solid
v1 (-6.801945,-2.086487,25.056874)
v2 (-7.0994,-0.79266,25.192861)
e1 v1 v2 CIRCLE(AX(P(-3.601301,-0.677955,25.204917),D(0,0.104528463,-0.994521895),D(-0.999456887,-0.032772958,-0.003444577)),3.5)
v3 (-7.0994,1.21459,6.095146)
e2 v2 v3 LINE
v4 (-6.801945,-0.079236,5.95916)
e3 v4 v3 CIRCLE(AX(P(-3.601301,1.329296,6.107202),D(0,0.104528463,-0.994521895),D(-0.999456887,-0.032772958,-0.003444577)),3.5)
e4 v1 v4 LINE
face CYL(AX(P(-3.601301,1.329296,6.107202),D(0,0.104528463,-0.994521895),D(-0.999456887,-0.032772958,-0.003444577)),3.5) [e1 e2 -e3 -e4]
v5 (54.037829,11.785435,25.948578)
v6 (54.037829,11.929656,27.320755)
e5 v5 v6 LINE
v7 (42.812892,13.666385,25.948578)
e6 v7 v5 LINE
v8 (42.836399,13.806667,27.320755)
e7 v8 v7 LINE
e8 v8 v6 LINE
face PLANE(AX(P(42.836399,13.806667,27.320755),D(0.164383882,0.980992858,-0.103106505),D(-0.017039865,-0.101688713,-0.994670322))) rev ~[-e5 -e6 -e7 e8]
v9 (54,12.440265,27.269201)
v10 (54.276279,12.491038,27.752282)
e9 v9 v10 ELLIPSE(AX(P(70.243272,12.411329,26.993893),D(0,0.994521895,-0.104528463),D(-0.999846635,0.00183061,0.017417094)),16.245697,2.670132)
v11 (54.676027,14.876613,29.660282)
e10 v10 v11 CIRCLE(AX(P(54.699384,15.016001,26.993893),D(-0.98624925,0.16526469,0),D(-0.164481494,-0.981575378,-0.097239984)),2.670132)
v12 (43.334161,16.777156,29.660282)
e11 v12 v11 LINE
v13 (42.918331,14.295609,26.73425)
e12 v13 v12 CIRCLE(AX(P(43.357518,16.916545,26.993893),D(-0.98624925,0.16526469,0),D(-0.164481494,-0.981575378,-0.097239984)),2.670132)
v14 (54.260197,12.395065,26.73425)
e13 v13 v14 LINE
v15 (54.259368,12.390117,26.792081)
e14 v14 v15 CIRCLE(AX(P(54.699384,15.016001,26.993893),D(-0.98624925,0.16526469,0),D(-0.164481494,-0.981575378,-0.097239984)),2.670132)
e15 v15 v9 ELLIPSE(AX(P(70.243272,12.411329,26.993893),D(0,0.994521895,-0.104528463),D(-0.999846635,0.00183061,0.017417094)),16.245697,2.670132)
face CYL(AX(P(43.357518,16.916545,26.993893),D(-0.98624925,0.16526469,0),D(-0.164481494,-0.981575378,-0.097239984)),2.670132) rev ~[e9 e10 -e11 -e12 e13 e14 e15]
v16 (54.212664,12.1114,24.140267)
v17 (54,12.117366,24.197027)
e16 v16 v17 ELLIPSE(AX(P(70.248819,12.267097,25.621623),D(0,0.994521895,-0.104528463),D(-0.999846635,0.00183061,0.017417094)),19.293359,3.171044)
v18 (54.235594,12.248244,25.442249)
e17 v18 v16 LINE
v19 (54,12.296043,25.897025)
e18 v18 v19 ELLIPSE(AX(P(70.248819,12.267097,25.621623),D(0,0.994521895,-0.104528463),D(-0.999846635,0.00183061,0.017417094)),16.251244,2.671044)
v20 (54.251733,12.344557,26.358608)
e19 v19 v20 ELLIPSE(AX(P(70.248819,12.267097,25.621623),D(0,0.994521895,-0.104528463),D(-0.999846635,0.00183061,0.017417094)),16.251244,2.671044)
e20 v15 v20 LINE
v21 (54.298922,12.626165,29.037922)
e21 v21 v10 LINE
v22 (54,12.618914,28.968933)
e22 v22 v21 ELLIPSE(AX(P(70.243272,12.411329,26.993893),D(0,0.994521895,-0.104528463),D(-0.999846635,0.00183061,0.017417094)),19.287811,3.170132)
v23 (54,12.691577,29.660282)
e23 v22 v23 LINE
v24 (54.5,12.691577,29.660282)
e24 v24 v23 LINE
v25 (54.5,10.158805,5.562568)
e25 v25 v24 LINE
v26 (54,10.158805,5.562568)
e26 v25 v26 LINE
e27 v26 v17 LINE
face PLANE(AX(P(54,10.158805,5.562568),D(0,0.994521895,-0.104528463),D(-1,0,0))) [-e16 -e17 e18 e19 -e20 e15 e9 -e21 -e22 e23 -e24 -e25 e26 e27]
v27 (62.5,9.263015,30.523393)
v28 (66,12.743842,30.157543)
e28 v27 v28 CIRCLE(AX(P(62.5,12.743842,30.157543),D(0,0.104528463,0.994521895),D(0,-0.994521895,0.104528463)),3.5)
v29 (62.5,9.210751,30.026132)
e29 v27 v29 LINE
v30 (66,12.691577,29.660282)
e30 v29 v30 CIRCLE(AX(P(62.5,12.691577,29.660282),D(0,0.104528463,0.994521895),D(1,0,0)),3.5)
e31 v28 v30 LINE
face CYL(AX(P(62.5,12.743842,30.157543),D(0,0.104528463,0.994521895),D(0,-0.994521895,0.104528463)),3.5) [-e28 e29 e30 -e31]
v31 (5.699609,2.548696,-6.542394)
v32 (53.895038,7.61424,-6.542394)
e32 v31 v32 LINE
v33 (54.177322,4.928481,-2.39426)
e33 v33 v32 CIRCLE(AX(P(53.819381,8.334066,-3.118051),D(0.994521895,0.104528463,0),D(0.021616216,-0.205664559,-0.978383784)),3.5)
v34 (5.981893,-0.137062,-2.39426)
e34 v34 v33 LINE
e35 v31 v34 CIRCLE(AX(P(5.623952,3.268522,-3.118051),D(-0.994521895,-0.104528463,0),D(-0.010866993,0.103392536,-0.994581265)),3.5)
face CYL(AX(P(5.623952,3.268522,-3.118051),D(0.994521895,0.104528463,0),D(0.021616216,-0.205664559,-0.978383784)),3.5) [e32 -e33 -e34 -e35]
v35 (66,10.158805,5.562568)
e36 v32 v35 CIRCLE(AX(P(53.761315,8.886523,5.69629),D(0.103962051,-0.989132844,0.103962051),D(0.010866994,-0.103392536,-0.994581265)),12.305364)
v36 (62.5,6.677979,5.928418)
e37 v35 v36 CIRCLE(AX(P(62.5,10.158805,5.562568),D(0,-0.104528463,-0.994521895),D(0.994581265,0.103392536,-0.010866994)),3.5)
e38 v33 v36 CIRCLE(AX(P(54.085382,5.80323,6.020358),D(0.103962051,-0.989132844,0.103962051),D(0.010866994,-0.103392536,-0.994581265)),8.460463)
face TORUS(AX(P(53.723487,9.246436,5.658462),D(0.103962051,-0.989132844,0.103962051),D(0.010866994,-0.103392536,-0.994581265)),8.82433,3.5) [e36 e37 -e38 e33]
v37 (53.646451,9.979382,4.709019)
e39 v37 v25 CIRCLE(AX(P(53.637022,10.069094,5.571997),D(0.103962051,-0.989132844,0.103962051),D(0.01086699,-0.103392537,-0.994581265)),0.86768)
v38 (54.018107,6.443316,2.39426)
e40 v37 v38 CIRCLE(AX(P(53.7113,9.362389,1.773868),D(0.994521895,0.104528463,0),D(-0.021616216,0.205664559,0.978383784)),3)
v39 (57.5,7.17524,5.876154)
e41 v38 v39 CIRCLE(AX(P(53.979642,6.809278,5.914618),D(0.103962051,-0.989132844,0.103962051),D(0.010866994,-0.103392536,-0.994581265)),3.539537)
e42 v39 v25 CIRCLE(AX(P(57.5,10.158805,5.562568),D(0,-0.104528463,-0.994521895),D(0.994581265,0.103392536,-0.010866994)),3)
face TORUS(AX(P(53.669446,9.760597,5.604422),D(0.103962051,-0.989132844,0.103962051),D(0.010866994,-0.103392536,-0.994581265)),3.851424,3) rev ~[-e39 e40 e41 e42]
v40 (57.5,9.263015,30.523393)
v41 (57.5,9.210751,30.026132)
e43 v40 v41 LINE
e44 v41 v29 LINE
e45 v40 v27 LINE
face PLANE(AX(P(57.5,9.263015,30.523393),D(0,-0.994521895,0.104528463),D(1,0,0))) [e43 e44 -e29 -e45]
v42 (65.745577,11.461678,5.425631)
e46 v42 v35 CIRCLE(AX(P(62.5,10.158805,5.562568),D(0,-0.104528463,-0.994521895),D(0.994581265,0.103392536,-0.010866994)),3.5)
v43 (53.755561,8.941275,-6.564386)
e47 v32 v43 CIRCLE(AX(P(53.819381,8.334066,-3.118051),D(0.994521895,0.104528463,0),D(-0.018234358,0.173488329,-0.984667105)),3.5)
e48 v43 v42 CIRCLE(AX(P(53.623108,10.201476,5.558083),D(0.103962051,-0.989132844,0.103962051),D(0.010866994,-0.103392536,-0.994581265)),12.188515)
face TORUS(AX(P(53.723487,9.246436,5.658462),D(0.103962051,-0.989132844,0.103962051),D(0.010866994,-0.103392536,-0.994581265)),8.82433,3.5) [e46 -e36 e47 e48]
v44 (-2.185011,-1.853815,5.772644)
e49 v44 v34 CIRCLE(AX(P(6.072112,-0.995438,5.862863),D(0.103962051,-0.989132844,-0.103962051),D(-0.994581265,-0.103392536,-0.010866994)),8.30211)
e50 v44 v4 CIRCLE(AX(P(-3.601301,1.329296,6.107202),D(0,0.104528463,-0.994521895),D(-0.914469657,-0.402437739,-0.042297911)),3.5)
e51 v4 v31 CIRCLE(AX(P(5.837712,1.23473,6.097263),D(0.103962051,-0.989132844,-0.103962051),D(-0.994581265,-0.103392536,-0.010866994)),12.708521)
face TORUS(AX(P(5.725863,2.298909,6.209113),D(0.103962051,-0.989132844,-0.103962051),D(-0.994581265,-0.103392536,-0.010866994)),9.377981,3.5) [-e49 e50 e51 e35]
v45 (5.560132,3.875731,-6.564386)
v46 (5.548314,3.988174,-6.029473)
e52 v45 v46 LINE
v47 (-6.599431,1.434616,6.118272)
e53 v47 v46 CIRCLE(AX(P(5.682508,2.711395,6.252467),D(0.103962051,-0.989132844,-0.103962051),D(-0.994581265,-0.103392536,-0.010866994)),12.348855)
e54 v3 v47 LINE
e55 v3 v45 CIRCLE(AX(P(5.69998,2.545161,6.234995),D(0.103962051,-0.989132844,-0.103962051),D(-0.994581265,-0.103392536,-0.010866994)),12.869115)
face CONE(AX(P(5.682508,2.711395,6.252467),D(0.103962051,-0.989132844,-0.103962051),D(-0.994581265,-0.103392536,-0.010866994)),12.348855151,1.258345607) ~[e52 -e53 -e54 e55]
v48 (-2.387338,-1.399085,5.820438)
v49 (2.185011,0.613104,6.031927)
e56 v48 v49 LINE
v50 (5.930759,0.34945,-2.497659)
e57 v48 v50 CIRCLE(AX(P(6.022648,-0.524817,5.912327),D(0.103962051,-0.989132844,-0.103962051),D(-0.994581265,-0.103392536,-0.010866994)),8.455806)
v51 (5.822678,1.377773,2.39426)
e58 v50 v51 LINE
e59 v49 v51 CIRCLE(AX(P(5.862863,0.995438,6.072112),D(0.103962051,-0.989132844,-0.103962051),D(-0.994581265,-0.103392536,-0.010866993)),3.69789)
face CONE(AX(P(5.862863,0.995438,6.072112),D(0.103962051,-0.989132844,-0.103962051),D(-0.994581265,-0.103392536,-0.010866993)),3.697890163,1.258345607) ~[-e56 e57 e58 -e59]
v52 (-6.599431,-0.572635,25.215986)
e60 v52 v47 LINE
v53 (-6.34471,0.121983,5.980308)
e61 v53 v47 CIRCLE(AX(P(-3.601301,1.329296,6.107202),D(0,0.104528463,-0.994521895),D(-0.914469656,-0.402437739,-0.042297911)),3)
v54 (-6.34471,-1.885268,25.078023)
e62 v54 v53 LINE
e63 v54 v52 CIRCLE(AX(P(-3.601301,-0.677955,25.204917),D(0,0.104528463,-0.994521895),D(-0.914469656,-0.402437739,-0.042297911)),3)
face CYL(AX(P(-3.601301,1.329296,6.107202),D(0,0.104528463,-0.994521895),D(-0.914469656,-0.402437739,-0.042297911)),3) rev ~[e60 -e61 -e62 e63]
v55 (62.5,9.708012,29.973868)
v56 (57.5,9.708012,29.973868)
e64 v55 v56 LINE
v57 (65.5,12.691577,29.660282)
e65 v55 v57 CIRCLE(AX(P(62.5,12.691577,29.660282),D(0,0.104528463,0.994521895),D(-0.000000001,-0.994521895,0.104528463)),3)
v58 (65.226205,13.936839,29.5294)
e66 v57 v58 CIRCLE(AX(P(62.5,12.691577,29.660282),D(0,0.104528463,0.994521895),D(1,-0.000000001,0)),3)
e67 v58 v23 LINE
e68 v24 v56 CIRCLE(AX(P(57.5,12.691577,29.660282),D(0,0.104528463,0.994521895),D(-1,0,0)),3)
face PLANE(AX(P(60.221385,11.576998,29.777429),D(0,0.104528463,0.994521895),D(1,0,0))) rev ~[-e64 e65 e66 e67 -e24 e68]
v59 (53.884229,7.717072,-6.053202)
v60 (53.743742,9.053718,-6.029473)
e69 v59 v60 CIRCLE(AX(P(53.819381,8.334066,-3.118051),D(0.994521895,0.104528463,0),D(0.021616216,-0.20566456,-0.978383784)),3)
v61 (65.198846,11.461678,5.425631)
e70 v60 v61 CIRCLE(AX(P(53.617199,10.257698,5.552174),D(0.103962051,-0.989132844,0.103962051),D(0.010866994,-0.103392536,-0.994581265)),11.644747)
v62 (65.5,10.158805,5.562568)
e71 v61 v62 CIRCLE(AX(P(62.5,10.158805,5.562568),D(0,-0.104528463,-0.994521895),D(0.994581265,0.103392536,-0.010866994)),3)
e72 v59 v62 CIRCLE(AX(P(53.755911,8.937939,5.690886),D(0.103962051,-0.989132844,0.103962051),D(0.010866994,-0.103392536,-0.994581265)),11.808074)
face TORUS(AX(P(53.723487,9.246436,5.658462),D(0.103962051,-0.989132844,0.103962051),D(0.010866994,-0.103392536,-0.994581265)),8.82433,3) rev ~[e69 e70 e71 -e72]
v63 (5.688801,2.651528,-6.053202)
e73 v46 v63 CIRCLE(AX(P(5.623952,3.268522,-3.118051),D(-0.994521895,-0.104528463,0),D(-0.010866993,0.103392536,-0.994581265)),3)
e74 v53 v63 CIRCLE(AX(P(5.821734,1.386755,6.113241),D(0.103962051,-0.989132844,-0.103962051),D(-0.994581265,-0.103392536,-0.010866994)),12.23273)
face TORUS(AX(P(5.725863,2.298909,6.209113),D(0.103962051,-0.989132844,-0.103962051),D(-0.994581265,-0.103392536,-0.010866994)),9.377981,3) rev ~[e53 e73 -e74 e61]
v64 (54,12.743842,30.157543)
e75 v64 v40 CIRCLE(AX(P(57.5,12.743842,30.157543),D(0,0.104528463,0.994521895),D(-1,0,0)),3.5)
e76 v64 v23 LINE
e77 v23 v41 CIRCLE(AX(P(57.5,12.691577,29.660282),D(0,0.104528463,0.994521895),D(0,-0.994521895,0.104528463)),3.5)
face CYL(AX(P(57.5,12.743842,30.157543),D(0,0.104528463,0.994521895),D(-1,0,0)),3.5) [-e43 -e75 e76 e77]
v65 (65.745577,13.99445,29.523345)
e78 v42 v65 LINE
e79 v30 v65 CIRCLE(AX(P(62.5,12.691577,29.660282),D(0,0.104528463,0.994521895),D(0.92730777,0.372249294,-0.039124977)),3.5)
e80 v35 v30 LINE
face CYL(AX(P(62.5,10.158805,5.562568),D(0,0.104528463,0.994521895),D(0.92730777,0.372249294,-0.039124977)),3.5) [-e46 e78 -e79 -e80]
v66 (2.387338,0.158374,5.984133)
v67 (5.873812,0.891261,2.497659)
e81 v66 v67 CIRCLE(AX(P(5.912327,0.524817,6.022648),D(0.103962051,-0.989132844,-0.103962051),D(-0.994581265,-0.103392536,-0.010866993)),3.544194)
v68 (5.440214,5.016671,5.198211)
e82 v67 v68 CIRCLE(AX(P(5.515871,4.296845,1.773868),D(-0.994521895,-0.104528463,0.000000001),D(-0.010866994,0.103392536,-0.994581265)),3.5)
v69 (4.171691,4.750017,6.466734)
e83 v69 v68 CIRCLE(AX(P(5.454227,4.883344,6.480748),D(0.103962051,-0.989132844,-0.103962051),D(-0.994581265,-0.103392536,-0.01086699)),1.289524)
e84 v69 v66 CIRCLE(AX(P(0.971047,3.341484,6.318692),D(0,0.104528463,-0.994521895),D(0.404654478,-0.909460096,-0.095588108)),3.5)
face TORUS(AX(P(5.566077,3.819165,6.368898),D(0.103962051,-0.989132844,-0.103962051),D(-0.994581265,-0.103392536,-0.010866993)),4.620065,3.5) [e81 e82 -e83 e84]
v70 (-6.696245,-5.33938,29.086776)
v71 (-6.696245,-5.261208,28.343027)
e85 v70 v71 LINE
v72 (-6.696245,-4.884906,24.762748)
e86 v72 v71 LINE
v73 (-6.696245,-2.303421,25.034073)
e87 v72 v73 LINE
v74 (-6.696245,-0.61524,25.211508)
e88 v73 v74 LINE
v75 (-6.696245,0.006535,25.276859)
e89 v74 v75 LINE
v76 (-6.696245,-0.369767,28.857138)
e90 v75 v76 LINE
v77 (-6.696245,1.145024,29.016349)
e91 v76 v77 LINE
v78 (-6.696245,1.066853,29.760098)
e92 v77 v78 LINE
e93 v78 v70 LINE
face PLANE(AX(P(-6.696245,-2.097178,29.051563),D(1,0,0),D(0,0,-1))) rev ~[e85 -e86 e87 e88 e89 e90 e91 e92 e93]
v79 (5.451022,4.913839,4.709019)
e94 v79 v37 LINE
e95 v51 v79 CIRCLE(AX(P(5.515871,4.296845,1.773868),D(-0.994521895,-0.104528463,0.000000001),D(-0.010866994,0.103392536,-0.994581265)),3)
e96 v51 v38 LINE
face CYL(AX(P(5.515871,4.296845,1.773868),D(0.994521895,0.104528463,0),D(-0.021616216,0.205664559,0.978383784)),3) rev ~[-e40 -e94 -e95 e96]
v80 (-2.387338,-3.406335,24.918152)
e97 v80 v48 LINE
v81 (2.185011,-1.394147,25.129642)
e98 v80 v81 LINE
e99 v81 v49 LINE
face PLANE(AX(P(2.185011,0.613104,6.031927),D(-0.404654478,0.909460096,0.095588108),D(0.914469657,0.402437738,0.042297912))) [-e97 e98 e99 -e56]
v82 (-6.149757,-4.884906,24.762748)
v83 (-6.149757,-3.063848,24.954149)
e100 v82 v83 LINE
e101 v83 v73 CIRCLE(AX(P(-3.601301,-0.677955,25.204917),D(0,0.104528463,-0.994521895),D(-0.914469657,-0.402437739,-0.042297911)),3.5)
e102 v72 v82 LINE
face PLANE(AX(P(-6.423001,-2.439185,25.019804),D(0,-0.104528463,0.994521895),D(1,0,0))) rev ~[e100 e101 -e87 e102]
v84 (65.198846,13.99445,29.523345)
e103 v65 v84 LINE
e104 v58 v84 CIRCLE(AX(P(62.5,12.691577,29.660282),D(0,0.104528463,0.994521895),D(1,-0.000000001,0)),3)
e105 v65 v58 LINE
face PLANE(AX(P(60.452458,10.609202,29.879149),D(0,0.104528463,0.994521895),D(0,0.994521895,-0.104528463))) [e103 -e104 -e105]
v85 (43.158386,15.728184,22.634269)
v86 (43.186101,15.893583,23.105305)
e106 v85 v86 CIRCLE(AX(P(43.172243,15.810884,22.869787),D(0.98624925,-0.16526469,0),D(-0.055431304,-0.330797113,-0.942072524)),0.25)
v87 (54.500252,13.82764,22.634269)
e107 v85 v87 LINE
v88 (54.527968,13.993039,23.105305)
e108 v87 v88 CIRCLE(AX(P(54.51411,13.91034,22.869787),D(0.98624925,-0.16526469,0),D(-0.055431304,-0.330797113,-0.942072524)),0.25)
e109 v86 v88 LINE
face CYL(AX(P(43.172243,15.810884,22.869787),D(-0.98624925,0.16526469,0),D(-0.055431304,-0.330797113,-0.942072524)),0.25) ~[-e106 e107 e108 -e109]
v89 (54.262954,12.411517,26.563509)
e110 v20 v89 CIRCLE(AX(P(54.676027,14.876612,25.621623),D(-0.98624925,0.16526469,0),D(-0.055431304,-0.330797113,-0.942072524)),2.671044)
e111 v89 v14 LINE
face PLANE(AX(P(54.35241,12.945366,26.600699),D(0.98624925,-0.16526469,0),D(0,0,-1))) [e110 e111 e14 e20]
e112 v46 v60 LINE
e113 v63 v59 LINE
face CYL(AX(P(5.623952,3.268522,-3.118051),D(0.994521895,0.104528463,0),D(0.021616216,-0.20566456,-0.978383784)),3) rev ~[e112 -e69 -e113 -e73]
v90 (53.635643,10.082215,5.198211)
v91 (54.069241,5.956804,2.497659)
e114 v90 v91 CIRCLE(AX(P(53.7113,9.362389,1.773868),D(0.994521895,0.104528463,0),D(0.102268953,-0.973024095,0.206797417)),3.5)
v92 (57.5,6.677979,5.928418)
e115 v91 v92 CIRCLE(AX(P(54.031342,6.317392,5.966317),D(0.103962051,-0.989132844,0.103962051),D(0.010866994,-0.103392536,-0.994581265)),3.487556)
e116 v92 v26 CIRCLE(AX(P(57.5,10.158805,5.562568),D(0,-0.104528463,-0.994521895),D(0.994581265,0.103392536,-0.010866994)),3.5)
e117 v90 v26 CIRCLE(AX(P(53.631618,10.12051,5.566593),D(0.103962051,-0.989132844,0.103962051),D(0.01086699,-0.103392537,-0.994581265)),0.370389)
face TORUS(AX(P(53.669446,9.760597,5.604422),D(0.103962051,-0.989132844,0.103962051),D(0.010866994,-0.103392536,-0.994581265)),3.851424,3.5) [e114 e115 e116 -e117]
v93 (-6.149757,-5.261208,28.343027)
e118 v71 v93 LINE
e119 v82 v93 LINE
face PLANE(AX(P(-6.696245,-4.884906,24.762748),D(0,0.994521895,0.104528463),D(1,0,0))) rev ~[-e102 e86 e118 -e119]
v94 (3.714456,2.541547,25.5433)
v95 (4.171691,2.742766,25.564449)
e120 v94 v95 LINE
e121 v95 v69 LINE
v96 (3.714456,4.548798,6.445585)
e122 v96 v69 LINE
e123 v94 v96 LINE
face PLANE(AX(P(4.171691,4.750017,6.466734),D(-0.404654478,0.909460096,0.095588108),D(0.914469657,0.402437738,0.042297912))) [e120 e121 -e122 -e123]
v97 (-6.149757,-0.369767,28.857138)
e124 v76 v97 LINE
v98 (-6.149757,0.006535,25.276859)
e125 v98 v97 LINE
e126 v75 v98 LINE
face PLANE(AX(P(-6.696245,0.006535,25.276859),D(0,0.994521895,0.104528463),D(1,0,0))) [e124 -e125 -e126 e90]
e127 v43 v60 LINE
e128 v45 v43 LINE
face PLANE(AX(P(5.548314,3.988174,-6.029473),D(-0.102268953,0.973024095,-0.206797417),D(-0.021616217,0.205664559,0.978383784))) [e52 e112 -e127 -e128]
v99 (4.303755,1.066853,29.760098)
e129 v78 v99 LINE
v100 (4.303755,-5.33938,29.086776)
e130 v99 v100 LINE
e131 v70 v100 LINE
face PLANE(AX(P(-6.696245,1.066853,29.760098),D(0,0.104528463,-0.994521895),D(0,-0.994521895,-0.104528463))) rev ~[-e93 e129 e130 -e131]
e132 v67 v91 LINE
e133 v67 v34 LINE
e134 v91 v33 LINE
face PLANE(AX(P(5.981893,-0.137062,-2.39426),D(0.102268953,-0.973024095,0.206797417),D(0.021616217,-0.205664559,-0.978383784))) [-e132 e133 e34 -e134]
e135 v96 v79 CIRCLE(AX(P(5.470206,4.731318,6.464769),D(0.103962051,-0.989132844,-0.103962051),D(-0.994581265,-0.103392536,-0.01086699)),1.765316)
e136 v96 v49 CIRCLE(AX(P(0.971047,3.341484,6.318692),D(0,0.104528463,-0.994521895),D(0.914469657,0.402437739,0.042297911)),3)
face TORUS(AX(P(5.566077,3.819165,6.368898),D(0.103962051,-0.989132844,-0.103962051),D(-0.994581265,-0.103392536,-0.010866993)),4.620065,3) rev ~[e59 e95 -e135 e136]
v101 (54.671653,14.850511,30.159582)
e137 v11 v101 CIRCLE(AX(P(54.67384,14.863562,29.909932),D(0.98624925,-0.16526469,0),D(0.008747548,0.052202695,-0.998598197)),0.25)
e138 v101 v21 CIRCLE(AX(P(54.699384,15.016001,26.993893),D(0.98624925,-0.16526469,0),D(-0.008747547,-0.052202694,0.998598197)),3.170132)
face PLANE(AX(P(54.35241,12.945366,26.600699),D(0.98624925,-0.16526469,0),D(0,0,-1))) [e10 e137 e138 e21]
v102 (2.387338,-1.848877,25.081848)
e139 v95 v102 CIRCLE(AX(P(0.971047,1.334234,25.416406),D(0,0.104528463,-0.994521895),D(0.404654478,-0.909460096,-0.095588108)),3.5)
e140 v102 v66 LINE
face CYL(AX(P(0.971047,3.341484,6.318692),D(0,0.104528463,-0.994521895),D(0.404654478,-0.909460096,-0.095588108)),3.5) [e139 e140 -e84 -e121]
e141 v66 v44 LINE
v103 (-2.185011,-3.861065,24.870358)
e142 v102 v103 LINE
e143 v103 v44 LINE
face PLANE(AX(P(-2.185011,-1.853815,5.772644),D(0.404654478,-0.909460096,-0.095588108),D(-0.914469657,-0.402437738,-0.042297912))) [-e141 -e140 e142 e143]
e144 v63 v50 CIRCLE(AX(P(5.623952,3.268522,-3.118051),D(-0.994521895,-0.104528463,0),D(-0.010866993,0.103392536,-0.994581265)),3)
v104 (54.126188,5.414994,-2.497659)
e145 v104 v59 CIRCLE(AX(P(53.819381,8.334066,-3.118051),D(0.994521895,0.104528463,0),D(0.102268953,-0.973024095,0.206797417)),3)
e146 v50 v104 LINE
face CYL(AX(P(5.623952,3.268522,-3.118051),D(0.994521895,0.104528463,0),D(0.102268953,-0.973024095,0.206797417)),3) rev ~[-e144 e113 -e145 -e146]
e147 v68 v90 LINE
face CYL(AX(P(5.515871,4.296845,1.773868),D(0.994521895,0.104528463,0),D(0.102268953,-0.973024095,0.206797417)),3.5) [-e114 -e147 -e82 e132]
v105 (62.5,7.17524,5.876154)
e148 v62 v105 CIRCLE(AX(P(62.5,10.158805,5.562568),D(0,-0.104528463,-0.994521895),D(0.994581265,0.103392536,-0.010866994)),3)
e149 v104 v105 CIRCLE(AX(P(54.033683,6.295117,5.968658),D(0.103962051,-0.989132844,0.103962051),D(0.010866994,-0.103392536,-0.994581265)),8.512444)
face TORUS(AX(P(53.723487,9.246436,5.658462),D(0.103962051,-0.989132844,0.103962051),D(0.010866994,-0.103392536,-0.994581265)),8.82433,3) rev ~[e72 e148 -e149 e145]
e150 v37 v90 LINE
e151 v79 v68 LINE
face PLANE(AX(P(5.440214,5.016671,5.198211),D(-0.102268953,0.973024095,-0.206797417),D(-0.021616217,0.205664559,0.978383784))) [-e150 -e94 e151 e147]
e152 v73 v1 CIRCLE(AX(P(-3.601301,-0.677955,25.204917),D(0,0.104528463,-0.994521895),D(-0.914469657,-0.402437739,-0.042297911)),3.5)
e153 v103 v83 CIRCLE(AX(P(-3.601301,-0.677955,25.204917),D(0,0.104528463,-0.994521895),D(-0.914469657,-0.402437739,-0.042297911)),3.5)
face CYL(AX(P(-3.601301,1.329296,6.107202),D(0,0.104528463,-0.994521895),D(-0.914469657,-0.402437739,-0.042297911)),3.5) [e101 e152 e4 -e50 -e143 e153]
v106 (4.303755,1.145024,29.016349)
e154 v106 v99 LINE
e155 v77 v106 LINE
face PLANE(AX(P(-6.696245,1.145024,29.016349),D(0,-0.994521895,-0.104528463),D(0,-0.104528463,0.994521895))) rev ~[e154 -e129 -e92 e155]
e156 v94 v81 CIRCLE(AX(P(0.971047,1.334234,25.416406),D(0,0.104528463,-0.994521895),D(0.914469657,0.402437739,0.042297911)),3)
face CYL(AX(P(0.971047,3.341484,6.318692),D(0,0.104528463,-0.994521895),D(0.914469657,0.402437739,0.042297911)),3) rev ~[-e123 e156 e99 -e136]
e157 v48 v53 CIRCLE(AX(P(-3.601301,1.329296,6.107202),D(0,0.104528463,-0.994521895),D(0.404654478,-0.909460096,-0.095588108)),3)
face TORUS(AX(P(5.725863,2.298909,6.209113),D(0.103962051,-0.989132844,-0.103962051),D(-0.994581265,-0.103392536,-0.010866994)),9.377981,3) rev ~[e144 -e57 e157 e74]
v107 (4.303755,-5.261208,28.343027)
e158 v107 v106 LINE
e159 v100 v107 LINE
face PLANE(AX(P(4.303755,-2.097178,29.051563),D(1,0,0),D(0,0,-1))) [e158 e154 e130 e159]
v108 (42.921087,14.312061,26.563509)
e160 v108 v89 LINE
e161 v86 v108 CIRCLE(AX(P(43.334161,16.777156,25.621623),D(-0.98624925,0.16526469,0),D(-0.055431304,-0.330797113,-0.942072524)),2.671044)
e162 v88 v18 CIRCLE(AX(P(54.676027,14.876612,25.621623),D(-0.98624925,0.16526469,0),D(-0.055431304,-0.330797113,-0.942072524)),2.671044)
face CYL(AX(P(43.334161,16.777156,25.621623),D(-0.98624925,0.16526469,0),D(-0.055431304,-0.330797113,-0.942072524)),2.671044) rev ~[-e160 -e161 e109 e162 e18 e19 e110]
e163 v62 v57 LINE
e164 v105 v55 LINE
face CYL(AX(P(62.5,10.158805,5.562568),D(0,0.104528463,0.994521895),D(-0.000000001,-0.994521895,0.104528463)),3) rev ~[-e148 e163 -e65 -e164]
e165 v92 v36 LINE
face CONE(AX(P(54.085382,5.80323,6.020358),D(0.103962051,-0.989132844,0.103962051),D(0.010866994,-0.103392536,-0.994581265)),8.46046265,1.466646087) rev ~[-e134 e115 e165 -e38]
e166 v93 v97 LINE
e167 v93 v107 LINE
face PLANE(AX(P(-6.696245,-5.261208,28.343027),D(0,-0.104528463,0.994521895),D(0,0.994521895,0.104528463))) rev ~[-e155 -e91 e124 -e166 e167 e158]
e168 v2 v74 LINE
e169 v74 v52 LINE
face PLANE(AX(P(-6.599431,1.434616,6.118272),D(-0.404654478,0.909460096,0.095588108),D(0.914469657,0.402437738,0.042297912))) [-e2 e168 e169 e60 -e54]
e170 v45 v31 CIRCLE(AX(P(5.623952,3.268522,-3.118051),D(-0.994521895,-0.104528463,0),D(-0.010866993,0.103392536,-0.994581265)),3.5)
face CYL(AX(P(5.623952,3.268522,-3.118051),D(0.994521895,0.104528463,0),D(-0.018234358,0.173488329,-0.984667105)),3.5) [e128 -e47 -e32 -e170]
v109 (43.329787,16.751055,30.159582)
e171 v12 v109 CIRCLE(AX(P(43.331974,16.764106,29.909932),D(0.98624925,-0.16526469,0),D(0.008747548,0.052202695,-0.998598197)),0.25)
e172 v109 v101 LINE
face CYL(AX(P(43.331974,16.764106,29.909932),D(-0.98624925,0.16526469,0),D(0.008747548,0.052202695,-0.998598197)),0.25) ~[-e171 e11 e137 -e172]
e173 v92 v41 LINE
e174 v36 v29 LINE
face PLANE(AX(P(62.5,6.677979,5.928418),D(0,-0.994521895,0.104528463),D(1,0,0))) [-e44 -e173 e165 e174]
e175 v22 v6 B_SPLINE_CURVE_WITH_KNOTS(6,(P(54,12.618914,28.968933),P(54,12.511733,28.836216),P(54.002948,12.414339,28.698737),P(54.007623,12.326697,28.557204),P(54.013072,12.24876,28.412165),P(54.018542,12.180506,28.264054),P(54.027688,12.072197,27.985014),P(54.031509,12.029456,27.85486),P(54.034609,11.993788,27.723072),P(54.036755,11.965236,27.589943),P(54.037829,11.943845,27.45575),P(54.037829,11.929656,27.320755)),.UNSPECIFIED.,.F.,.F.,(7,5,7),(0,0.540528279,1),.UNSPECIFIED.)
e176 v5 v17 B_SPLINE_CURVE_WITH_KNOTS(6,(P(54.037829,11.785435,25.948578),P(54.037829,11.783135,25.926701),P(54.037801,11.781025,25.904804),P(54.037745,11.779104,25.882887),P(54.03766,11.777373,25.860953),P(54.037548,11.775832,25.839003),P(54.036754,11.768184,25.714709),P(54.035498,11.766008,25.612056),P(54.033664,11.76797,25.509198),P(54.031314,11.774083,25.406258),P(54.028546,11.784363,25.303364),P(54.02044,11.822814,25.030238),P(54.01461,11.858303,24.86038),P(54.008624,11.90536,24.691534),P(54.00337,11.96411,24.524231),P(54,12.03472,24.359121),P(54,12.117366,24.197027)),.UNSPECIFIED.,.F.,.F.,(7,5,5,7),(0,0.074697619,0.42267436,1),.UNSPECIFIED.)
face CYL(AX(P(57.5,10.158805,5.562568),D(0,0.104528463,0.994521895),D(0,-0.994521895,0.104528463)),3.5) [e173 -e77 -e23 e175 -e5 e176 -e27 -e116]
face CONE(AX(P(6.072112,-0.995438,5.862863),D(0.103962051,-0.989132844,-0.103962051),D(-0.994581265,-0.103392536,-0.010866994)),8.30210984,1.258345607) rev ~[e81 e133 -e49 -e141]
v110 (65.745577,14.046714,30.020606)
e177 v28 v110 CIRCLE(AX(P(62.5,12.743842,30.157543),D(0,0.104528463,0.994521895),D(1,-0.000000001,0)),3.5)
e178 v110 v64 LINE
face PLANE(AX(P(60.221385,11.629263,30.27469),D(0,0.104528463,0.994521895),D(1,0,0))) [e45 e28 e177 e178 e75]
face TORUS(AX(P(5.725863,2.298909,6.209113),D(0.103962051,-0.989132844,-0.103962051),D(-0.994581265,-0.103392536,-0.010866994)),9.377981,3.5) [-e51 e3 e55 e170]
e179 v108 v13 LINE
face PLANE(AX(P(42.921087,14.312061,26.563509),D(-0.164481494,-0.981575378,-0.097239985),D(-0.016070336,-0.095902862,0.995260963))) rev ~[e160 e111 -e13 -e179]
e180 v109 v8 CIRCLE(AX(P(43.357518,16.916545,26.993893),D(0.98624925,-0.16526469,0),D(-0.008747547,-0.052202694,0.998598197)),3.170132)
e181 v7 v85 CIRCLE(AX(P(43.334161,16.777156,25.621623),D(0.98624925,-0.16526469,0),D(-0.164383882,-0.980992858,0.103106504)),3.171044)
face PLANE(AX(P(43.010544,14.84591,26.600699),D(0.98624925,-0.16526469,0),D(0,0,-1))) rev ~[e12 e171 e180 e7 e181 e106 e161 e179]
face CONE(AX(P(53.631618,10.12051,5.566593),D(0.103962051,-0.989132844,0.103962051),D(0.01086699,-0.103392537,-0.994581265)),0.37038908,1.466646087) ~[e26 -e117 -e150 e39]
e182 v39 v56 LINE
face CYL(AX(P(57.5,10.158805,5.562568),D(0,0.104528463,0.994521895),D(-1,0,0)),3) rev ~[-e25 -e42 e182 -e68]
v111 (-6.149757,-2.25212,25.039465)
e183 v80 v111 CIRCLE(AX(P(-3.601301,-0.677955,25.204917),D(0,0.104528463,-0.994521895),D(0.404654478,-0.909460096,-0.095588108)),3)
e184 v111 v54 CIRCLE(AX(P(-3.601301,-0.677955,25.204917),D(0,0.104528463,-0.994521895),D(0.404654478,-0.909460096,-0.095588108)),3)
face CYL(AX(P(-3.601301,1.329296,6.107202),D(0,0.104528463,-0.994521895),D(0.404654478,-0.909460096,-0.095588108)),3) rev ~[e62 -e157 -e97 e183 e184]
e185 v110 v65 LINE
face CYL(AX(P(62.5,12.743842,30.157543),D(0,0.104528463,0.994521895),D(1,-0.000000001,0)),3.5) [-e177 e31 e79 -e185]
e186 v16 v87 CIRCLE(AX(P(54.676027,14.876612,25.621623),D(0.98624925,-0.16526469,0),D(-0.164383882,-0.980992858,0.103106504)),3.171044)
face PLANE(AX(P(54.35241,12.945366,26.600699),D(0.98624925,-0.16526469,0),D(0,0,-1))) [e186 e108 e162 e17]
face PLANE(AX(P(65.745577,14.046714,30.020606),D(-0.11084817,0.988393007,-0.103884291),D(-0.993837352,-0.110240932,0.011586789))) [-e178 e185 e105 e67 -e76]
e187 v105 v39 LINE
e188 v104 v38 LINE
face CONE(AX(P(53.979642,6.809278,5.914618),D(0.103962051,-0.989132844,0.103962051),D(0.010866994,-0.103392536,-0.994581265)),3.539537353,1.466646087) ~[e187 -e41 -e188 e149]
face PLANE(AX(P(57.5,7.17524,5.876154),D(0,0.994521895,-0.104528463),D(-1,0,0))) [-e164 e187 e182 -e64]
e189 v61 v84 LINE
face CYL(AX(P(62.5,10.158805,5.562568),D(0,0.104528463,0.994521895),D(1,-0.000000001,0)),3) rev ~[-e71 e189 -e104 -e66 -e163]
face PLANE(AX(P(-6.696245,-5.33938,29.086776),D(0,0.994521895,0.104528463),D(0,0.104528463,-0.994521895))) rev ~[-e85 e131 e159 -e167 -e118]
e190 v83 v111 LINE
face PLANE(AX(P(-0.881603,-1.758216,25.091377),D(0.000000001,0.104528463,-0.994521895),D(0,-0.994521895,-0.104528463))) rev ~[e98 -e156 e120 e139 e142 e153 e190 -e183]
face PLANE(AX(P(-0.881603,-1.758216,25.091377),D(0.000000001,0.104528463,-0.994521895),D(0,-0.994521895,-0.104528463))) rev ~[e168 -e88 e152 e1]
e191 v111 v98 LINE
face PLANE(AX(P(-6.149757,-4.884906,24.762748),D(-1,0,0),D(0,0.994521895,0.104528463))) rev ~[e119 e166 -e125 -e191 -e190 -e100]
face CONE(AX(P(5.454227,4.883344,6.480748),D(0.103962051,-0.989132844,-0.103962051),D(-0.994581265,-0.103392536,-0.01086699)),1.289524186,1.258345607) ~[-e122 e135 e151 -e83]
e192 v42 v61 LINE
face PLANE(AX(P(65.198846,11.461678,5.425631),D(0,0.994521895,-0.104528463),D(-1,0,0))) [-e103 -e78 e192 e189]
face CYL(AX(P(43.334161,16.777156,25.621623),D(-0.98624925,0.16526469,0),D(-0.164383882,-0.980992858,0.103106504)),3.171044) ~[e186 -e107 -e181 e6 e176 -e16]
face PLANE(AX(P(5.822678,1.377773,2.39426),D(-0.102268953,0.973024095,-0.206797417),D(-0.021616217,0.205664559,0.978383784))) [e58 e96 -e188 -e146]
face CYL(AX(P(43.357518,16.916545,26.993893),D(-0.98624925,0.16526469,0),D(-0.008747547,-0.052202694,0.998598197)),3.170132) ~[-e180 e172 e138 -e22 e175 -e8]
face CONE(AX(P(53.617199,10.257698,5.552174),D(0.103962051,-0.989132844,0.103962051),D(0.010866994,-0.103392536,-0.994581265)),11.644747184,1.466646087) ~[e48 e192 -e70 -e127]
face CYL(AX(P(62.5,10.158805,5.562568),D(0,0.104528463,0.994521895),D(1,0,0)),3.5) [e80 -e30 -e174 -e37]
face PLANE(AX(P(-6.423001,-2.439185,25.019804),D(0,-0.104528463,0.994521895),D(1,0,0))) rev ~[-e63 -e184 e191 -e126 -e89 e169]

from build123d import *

# Parameters (mm, degrees)
SKETCH_2_W      = 0.546487167
SKETCH_2_H      = 4.918384508
EXTRUDE_1_DEPTH = 3.6
EXTRUDE_2_DEPTH = 11
EXTRUDE_START   = 0.5
EXTRUDE_4_DEPTH = 0.5
EXTRUDE_5_DEPTH = 11.5


with BuildPart() as part:
    # 扫描1: sweep along a curve in space
    with BuildLine() as sweep_1_path:
        Line((60, 6.926609333, 5.902285627), (60, 9.459381174, 30))
        ThreePointArc((54.097714373, 5.685898899, 0), (58.275153099, 6.306254116, 1.724846901), (60, 6.926609333, 5.902285627))
        Line((5.902285627, 0.620355217, 0), (54.097714373, 5.685898899, 0))
        ThreePointArc((0, -0.620355217, 5.902285627), (1.724846901, 0, 1.724846901), (5.902285627, 0.620355217, 0))
        Line((0, -0.620355217, 5.902285627), (0, -2.627605882, 25))
    # 草图1 → 扫描1 (sweep)
    with BuildSketch(Plane(origin=(60, 9.459381174, 30), x_dir=(1, 0, 0), z_dir=(0, 0.10452846326765572, 0.9945218953682732))):
        with BuildLine():
            Line((-6, 3.25), (-5.5, 3.25))
            ThreePointArc((-5.5, 3.25), (-4.621320344, 1.128679656), (-2.5, 0.25))
            Line((-2.5, 0.25), (2.5, 0.25))
            ThreePointArc((2.5, 0.25), (4.621320344, 1.128679656), (5.5, 3.25))
            ThreePointArc((5.5, 3.25), (5.42374237, 3.922109036), (5.198846296, 4.56004911))
            Line((5.198846296, 4.56004911), (5.745577195, 4.56004911))
            ThreePointArc((5.745577195, 4.56004911), (5.935805596, 3.917262998), (6, 3.25))
            ThreePointArc((6, 3.25), (4.974873734, 0.775126266), (2.5, -0.25))
            Line((2.5, -0.25), (-2.5, -0.25))
            ThreePointArc((-2.5, -0.25), (-4.974873734, 0.775126266), (-6, 3.25))
        make_face()
    sweep(path=sweep_1_path.line)

    # 草图2 → 凸台-拉伸1 (add)
    with BuildSketch(Plane(origin=(0, -2.627605882, 25), x_dir=(1, 0, 0), z_dir=(0, -0.1045284632676537, 0.9945218953682733))):
        with Locations((-6.423000936, 0.189458264)):
            Rectangle(SKETCH_2_W, SKETCH_2_H)
    extrude(amount=EXTRUDE_1_DEPTH)

    # 草图3 → 凸台-拉伸2 (add)
    with BuildSketch(Plane.ZY.offset(6.696244519)):
        Polygon((28.343027017, -5.261208499), (29.016349178, 1.145023935), (29.760098321, 1.06685275), (29.08677616, -5.339379684), align=None)
    extrude(amount=-EXTRUDE_2_DEPTH)

    # 草图5 → 凸台-拉伸4 (add)
    with BuildSketch(Plane(origin=(0, 3.222030449, 30.655571978), x_dir=(1, 0, 0), z_dir=(0, 0.10452846326765573, 0.9945218953682732)).offset(EXTRUDE_START)):
        with BuildLine():
            Line((65.745577195, 10.831756906), (54, 9.521707796))
            ThreePointArc((54, 9.521707796), (55.025126266, 7.046834062), (57.5, 6.021707796))
            Line((57.5, 6.021707796), (62.5, 6.021707796))
            ThreePointArc((62.5, 6.021707796), (64.974873734, 7.046834062), (66, 9.521707796))
            ThreePointArc((66, 9.521707796), (65.935805596, 10.188970794), (65.745577195, 10.831756906))
        make_face()
    extrude(amount=-EXTRUDE_4_DEPTH)

    # 草图6 → 凸台-拉伸5 (add)
    with BuildSketch(Plane(origin=(42.920636483, 14.309369815, 26.591437724), x_dir=(0, 0, 1), z_dir=(-0.9862492496089712, 0.16526468965190708, -2.582698329999371e-13))):
        with BuildLine():
            ThreePointArc((3.06884477, 2.502193657), (3.331726952, 2.738610574), (3.568143869, 2.475728392))
            ThreePointArc((3.568143869, 2.475728392), (2.699777506, 0.459022922), (0.729316838, -0.509711228))
            Line((0.729316838, -0.509711228), (-0.642859848, -0.651949655))
            ThreePointArc((-0.642859848, -0.651949655), (-2.66156717, -0.179875455), (-3.957168488, 1.438596209))
            ThreePointArc((-3.957168488, 1.438596209), (-3.805502668, 1.75796665), (-3.486132226, 1.606300829))
            ThreePointArc((-3.486132226, 1.606300829), (-2.093455907, 0.078991816), (-0.027928349, 0.002728684))
            Line((-0.027928349, 0.002728684), (0.142811981, -0.013953159))
            ThreePointArc((0.142811981, -0.013953159), (2.143390616, 0.618987912), (3.06884477, 2.502193657))
        make_face()
    extrude(amount=-EXTRUDE_5_DEPTH)


solid = part.part
